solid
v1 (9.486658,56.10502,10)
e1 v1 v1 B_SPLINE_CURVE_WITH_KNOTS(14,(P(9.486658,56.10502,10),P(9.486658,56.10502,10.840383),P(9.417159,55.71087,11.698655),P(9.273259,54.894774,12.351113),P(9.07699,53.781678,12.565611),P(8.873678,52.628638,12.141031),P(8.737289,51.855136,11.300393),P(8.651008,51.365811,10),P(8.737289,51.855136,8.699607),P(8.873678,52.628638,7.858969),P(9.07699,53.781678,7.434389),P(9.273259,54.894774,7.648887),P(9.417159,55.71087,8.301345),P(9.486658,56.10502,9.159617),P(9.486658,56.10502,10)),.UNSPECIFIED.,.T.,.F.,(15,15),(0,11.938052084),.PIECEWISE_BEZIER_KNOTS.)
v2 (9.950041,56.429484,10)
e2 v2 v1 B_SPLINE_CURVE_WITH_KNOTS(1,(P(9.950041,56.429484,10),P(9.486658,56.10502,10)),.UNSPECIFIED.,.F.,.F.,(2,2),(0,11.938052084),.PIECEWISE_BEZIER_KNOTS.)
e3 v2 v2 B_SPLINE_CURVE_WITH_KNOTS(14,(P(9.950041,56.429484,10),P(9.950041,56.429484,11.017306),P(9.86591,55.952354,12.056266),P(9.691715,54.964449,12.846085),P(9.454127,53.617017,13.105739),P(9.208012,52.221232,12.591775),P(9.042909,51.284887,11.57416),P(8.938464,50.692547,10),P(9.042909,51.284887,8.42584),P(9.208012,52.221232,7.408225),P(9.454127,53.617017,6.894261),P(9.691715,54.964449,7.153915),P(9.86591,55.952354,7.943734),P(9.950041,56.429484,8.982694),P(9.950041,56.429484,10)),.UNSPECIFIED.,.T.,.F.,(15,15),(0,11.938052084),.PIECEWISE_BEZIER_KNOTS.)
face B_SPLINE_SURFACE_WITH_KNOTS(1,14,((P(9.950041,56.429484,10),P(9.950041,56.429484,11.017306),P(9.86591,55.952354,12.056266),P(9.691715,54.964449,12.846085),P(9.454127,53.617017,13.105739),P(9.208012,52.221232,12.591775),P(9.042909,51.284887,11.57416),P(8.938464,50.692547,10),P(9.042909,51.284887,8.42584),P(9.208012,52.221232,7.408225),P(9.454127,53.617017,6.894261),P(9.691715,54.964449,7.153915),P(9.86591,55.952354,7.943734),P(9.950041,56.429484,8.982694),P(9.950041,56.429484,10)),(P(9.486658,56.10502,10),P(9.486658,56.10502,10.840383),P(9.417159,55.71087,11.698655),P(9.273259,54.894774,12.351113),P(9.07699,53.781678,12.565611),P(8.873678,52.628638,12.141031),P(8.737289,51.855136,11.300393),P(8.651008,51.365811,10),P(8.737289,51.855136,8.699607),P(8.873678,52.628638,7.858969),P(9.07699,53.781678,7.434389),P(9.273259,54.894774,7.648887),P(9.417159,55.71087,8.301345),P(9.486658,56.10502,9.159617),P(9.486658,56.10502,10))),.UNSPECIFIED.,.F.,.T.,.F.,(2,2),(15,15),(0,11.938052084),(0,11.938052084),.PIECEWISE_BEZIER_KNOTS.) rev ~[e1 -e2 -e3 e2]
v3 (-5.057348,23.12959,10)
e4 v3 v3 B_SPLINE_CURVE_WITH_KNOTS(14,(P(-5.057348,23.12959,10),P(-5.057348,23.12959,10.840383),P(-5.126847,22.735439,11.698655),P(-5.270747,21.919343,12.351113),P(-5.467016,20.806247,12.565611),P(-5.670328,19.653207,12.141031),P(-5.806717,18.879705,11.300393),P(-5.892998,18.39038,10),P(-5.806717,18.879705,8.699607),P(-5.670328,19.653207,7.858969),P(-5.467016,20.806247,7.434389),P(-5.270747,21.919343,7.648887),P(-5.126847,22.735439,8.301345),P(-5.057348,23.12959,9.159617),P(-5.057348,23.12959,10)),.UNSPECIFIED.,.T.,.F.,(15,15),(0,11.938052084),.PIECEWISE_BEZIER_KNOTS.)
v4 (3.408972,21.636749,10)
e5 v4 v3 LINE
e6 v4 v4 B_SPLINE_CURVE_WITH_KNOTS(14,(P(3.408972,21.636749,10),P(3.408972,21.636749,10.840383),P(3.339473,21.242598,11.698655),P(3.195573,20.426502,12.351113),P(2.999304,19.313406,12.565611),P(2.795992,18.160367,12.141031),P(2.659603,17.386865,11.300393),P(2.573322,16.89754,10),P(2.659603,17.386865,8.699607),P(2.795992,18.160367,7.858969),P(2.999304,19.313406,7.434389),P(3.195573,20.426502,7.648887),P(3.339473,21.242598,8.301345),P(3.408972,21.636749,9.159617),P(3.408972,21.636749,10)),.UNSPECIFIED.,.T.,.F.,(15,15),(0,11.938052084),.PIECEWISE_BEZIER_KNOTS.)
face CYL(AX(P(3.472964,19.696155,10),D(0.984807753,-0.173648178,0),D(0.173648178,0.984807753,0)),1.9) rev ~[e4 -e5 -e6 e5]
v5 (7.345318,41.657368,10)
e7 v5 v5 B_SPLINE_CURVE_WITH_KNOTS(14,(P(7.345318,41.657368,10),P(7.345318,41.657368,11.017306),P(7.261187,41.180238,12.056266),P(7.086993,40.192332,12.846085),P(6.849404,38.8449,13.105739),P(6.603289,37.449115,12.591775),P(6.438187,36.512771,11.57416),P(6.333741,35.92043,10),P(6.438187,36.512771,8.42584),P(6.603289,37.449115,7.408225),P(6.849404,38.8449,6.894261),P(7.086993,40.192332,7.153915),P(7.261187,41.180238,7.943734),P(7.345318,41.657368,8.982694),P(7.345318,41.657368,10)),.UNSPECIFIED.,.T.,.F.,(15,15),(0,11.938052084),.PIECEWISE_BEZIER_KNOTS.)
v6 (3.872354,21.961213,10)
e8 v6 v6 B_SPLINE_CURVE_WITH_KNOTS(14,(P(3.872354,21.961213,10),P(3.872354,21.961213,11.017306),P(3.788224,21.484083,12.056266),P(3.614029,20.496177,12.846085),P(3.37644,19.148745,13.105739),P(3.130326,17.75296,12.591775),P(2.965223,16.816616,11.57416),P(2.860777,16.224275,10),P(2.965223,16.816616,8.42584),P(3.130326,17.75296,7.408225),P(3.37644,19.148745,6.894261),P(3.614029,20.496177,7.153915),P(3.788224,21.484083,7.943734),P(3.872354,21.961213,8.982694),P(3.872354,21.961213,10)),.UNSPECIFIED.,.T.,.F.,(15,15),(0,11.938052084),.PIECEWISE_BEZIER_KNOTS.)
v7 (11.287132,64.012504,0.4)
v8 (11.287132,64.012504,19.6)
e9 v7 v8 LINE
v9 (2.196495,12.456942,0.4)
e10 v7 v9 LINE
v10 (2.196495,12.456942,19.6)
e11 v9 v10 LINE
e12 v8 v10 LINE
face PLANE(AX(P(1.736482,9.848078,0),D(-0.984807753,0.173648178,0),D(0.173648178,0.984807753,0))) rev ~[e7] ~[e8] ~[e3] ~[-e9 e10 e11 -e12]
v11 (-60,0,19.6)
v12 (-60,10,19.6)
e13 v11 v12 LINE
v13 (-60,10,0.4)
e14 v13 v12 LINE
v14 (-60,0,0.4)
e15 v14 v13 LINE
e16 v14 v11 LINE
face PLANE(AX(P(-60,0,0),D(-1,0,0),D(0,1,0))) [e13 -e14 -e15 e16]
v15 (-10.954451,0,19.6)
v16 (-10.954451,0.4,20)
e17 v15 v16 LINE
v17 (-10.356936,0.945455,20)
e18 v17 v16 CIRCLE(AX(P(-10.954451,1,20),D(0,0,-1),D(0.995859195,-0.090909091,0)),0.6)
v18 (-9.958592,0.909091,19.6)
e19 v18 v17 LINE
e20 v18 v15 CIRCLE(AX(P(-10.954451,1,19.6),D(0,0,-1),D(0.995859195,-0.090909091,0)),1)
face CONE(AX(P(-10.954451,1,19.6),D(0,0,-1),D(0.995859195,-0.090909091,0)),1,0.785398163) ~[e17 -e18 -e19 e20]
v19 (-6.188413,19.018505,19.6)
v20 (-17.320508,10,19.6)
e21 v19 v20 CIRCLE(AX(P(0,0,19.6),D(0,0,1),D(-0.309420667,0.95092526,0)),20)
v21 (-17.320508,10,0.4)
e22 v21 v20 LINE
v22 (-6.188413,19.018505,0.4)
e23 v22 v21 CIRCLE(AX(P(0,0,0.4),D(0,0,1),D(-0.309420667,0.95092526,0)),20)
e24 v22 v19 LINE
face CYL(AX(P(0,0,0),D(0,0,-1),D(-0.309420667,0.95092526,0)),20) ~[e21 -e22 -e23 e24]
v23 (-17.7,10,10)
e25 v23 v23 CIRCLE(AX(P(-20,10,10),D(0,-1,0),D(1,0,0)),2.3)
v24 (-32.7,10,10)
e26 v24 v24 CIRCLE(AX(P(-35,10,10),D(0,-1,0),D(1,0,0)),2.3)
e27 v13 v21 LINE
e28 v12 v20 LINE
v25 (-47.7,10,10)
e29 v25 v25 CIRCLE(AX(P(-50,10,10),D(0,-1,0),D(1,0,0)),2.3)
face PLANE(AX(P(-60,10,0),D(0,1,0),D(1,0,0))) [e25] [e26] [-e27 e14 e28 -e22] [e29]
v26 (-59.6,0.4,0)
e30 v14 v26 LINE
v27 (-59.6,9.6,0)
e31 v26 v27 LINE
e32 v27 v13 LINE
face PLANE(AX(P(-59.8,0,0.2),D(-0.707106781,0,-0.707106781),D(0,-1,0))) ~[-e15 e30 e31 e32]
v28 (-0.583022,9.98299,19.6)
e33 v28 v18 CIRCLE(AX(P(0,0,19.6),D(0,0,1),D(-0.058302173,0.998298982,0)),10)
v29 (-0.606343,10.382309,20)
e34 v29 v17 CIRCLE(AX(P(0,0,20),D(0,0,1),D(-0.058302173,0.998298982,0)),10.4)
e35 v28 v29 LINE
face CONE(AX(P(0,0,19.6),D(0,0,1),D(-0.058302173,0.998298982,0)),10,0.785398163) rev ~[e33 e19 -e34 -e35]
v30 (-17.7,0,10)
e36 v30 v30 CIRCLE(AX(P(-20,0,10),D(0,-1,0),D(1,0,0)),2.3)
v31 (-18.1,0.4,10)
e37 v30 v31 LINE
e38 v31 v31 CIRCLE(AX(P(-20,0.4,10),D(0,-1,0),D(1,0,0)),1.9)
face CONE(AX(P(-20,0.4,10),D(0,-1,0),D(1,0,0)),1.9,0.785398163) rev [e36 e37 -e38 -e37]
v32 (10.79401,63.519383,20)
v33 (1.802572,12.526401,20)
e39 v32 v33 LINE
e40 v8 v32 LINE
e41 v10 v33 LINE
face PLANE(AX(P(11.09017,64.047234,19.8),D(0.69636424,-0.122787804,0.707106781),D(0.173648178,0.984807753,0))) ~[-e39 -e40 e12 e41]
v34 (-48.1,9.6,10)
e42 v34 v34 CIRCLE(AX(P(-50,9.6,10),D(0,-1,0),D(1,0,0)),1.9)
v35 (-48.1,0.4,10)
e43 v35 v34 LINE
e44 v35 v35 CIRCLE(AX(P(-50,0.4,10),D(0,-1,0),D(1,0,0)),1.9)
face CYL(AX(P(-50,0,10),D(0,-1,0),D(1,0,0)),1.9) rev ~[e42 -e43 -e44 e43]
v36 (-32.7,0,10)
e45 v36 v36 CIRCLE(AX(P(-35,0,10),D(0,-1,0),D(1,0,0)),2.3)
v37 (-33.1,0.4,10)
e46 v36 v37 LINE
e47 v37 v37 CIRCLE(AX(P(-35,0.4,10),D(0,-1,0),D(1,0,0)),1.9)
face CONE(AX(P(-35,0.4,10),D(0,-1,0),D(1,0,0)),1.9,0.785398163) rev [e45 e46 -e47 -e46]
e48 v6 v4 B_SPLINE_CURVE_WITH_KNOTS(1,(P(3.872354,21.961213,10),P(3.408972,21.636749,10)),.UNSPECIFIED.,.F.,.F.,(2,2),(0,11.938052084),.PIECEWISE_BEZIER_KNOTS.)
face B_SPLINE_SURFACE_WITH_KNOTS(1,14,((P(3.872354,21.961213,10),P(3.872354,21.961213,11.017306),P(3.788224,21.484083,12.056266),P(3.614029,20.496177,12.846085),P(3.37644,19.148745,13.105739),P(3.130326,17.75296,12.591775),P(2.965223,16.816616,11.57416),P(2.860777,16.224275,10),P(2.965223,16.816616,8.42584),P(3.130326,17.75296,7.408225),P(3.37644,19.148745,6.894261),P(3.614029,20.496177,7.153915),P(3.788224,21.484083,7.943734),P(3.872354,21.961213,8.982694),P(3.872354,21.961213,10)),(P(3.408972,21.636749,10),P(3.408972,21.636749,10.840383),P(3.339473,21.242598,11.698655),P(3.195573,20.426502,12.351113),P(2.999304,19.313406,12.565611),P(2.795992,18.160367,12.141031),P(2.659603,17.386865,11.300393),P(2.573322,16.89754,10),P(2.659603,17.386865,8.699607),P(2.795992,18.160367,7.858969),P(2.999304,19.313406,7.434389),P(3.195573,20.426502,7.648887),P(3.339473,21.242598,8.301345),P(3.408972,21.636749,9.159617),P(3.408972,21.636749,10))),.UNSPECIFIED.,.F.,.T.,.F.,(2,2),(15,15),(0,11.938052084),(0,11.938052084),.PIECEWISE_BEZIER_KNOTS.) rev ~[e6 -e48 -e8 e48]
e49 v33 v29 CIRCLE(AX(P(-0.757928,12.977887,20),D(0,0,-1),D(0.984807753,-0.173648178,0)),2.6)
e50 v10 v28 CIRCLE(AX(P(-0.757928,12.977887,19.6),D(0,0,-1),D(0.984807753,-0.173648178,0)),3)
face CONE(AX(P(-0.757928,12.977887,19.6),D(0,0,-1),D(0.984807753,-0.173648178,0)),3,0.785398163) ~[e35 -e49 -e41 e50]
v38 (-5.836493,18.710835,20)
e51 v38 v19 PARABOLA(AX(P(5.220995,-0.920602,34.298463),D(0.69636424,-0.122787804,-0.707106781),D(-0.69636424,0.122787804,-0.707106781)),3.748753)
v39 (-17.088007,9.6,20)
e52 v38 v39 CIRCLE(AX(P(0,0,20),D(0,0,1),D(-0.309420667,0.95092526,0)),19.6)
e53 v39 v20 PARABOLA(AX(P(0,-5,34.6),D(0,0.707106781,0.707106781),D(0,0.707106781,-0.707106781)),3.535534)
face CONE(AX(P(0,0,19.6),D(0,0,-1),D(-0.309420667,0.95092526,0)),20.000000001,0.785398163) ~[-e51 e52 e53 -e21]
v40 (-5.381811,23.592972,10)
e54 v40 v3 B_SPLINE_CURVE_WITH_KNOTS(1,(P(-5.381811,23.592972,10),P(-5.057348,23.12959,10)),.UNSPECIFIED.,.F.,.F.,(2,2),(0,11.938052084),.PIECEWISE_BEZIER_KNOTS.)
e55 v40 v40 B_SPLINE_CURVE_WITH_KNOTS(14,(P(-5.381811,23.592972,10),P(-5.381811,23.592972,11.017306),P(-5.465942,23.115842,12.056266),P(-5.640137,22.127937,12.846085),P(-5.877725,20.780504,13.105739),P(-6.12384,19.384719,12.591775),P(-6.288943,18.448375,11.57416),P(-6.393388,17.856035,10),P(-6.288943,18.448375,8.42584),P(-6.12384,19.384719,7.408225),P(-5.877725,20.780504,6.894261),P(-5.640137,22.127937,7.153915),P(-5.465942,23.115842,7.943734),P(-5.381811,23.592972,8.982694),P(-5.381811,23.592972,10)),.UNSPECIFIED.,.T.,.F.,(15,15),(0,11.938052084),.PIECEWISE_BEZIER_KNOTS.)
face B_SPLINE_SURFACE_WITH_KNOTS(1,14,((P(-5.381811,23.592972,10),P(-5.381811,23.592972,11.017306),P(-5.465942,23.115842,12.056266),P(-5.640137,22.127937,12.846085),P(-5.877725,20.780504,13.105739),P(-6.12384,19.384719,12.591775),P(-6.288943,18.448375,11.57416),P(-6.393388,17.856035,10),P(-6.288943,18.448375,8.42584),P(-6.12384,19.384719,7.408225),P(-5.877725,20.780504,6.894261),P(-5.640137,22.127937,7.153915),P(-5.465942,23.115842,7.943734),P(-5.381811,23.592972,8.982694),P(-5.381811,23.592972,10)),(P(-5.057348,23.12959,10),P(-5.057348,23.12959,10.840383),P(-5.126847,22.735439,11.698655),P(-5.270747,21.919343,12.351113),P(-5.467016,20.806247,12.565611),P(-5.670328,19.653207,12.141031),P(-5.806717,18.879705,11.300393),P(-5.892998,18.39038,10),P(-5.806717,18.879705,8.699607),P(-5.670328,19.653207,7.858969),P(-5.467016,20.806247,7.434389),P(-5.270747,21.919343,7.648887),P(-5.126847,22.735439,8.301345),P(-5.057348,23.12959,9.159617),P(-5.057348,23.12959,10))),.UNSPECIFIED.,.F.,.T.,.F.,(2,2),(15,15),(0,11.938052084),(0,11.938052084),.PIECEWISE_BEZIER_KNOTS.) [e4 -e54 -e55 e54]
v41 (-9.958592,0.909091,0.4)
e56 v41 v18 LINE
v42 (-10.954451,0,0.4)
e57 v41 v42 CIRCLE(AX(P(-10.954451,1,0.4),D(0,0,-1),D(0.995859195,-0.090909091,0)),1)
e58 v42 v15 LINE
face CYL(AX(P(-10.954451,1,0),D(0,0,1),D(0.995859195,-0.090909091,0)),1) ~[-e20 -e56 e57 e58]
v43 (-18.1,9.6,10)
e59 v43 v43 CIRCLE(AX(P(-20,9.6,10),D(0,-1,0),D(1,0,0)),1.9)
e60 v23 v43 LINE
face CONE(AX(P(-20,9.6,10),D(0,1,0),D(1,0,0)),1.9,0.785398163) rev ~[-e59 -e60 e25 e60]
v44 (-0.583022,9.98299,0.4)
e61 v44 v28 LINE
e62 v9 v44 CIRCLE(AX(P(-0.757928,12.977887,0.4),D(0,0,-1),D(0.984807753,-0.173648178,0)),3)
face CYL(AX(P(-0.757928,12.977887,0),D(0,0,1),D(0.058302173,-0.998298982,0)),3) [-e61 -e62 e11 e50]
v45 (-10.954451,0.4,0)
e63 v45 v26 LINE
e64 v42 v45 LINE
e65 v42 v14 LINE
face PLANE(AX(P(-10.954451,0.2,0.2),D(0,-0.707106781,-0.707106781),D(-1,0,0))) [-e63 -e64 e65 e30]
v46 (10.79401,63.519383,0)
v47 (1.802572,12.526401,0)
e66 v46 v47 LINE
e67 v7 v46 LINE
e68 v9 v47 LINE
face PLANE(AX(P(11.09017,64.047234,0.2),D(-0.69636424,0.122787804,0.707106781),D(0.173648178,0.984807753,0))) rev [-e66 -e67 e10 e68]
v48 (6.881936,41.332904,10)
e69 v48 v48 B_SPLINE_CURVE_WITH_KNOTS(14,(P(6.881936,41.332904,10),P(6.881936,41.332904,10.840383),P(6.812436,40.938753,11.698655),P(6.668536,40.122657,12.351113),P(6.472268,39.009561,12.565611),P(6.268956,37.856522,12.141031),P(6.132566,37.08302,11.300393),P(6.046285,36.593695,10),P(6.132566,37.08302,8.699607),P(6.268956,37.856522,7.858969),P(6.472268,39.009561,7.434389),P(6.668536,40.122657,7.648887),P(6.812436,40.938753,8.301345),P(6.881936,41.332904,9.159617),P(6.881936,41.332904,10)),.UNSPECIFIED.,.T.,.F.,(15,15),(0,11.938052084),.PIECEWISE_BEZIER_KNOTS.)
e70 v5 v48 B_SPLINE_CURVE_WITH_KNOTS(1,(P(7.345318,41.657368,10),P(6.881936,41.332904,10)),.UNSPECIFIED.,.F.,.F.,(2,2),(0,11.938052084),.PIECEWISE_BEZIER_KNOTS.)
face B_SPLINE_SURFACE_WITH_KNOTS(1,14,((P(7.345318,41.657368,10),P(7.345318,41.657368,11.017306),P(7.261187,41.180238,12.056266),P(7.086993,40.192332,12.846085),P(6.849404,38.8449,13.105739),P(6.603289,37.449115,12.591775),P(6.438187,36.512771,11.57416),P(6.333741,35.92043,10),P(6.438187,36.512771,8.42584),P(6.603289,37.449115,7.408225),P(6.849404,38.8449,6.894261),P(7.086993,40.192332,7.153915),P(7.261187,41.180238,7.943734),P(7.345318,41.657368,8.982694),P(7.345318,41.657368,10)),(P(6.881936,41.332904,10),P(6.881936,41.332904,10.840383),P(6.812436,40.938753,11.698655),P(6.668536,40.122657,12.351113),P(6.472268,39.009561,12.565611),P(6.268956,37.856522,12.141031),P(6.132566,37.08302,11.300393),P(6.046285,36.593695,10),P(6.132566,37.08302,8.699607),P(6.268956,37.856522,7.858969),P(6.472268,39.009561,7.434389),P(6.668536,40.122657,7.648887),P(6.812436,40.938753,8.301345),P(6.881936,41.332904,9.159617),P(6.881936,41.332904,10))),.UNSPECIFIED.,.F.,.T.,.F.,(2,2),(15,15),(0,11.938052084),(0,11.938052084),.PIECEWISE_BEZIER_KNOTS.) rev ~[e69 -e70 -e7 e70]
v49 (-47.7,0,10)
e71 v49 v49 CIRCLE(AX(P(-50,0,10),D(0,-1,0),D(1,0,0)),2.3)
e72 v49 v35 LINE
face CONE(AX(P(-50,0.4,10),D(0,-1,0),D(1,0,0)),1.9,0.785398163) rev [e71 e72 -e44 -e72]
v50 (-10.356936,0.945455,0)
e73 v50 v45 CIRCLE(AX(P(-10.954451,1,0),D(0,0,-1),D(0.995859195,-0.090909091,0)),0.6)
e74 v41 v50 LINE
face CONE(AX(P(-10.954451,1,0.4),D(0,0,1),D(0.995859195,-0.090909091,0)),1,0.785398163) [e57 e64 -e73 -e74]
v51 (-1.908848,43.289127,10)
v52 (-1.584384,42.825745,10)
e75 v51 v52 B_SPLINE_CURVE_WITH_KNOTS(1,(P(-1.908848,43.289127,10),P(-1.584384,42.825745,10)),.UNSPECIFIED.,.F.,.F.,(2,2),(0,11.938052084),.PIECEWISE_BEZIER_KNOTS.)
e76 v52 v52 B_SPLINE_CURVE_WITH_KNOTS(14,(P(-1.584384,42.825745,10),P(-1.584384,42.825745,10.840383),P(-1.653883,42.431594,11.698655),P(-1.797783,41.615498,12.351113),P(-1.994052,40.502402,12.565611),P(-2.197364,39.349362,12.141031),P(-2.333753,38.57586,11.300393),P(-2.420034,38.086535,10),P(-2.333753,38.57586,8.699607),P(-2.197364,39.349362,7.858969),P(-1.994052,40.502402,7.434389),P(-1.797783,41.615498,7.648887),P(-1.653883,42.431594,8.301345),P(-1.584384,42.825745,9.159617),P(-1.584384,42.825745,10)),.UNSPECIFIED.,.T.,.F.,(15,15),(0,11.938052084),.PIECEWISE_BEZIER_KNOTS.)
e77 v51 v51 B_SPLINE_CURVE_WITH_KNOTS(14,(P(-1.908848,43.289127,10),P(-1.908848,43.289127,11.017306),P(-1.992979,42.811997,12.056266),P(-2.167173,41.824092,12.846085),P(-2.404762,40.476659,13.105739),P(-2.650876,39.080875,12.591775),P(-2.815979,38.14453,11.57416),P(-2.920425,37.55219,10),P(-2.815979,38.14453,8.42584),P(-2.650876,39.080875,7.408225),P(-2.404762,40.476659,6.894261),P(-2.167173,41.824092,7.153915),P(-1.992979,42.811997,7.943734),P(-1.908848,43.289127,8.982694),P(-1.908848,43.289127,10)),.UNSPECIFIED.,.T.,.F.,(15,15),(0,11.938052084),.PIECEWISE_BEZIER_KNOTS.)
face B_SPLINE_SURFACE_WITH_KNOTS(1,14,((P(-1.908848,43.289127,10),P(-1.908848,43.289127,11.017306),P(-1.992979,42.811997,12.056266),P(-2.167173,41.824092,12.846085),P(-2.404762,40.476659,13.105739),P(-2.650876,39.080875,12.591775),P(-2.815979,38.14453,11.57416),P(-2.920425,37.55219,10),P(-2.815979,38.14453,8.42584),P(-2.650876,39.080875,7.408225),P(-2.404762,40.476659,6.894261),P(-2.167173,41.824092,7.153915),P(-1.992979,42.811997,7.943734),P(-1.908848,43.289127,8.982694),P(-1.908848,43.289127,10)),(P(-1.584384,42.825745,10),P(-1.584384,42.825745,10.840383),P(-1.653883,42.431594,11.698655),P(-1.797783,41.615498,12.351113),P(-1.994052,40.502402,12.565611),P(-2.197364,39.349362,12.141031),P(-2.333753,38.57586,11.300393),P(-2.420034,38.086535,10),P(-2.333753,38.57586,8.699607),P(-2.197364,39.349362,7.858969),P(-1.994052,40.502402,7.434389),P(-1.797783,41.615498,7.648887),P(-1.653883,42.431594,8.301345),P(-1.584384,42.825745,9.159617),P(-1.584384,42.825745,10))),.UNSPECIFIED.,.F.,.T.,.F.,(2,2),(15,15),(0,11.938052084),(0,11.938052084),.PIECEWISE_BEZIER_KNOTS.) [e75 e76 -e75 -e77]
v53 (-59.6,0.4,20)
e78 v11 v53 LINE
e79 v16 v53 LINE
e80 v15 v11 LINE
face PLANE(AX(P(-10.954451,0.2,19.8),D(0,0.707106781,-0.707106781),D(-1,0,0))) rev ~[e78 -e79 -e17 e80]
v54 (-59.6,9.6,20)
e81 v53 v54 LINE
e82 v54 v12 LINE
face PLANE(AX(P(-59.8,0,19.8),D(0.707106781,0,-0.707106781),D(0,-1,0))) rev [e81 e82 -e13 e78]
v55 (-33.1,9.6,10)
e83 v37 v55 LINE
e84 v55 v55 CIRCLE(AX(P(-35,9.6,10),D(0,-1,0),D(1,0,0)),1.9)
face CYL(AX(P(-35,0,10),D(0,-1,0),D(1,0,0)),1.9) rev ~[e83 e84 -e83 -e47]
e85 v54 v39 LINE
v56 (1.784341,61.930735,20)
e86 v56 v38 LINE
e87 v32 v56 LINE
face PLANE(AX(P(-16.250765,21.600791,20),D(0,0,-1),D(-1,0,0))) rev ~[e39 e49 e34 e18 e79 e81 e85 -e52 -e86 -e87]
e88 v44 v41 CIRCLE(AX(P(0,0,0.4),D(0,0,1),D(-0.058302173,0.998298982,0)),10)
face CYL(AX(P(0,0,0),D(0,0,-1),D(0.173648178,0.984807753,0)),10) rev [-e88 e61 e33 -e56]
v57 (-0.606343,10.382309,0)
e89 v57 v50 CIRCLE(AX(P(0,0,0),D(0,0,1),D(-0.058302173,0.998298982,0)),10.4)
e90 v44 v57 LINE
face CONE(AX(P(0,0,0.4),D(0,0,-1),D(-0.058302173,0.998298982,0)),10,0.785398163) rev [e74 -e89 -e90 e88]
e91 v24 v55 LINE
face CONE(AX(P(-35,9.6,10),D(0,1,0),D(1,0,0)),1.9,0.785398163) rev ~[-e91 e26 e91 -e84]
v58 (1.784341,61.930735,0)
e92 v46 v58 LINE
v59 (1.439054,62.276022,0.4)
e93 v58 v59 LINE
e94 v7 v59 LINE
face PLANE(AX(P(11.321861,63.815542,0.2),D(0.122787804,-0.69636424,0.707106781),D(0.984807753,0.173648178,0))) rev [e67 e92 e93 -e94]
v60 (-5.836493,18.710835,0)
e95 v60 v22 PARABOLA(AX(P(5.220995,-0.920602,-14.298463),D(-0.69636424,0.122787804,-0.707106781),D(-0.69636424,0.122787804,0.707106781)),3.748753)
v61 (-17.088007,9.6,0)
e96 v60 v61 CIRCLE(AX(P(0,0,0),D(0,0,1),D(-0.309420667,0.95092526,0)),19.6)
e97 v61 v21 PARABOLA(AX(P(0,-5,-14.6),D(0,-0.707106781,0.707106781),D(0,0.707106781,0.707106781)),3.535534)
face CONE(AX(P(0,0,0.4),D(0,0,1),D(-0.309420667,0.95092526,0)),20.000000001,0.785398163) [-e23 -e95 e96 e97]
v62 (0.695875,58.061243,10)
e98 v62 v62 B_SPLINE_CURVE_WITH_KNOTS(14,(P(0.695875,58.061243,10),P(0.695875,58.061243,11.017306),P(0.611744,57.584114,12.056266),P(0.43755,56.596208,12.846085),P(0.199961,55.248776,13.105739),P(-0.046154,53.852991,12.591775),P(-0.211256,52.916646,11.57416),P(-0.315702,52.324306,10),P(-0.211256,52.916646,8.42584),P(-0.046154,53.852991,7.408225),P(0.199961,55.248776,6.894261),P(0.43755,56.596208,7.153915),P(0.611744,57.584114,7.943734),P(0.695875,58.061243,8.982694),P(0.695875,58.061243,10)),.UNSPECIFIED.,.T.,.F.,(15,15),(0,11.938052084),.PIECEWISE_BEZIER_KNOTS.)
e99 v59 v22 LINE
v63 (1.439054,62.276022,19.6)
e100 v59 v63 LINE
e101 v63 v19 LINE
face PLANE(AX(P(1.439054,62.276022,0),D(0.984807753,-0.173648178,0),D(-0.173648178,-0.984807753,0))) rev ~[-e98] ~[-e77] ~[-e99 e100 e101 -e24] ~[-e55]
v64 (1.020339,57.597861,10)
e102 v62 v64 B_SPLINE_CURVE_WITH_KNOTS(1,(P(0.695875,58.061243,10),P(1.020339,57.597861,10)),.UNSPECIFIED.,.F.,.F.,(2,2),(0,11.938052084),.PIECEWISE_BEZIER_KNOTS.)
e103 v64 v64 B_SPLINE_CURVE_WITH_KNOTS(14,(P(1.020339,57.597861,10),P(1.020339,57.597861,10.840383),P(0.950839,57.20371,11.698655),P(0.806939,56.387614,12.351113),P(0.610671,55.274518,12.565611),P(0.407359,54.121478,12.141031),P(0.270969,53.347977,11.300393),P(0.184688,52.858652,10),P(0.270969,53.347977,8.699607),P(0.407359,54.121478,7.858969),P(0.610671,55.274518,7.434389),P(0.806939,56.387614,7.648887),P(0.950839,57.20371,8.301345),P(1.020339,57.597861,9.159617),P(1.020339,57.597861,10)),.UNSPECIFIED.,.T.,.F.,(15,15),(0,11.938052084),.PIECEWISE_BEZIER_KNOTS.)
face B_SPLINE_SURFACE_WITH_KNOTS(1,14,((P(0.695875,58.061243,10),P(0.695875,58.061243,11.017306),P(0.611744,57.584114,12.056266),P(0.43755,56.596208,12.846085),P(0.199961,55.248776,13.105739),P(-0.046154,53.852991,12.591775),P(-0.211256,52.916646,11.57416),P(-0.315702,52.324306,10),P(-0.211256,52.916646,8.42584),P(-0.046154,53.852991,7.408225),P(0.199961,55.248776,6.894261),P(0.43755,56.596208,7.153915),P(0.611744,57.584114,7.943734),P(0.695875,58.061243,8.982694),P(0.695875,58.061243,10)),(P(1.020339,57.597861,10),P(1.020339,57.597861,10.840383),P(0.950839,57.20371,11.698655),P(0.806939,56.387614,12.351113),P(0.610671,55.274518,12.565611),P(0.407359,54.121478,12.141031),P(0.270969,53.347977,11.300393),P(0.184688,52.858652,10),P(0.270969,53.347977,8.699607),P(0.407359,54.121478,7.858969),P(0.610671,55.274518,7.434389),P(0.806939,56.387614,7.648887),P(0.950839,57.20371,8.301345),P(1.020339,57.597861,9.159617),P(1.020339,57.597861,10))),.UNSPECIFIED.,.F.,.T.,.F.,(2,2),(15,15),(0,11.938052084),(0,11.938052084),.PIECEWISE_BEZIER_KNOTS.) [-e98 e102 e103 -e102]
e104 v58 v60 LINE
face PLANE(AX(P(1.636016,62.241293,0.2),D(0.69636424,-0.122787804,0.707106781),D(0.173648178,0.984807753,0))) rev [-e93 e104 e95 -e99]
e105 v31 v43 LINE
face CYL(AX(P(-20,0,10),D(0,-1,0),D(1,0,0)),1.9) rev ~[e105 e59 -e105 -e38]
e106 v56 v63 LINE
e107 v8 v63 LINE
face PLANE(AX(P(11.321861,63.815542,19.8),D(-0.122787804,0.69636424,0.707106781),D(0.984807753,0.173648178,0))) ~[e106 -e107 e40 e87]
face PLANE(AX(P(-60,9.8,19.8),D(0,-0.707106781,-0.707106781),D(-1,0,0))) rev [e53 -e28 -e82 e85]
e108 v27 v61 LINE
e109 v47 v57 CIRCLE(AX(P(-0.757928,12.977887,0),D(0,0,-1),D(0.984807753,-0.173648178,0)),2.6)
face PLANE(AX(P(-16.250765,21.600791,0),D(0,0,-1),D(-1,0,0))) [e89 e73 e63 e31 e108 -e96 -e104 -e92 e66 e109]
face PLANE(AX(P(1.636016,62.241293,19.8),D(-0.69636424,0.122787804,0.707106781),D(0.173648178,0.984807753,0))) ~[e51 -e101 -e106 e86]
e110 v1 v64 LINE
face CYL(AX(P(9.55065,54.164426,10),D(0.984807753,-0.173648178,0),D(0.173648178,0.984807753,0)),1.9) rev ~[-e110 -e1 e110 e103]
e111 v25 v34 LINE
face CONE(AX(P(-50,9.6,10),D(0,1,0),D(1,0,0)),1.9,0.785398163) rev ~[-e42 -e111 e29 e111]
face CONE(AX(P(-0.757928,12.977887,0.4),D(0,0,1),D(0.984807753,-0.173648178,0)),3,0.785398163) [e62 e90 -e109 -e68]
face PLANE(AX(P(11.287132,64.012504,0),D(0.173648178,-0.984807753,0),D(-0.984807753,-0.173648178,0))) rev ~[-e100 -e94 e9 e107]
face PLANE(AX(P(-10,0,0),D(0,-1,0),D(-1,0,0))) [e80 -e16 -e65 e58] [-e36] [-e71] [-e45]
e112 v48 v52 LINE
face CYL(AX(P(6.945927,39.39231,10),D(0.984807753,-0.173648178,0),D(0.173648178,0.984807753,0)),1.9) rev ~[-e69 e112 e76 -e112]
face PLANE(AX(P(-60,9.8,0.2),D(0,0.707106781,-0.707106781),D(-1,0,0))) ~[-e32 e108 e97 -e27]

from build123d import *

# Parameters (mm, degrees)
PAD_DEPTH       = 20
SKETCH001_R     = 1.9
POCKET_DEPTH    = 10
SKETCH002_R     = 1.9
POCKET001_DEPTH = 70.2051198388
FILLET_R        = 3
FILLET001_R     = 1
CHAMFER_SIZE    = 0.4


with BuildPart() as part:
    # Sketch → Pad (new body)
    with BuildSketch(Plane.XY):
        with BuildLine():
            ThreePointArc((1.7364817767, 9.8480775301), (-6.4278760969, 7.6604444312), (-10, 0))
            Line((-10, 0), (-60, 0))
            Line((-60, 0), (-60, 10))
            Line((-60, 10), (-17.3205080757, 10))
            ThreePointArc((-6.1884133406, 19.0185052075), (-12.5897063343, 15.5402475661), (-17.3205080757, 10))
            Line((1.4390540182, 62.2760221691), (-6.1884133406, 19.0185052075))
            Line((11.2871315484, 64.0125039458), (1.4390540182, 62.2760221691))
            Line((1.7364817767, 9.8480775301), (11.2871315484, 64.0125039458))
        make_face()
    extrude(amount=PAD_DEPTH)

    # Sketch001 (on Face2 of Pad) → Pocket (cut)
    with BuildSketch(Plane.XZ):
        with Locations((-50, 10)):
            Circle(SKETCH001_R)
        with Locations((-35, 10)):
            Circle(SKETCH001_R)
        with Locations((-20, 10)):
            Circle(SKETCH001_R)
    extrude(amount=-POCKET_DEPTH, mode=Mode.SUBTRACT)

    # Sketch002 (on Face2 of Pocket) → Pocket001 (cut, through all)
    with BuildSketch(Plane(origin=(0, 0, 0), x_dir=(0.1736481777, 0.984807753, 0), z_dir=(0.984807753, -0.1736481777, 0))):
        with Locations((20, 10)):
            Circle(SKETCH002_R)
        with Locations((40, 10)):
            Circle(SKETCH002_R)
        with Locations((55, 10)):
            Circle(SKETCH002_R)
    extrude(amount=-POCKET001_DEPTH, mode=Mode.SUBTRACT)

    # Fillet
    fillet_edges = [part.edges().sort_by_distance(p)[0] for p in [
        (1.736482, 9.848078, 10),
    ]]
    fillet(fillet_edges, radius=FILLET_R)

    # Fillet001
    fillet001_edges = [part.edges().sort_by_distance(p)[0] for p in [
        (-10, 0, 10),
    ]]
    fillet(fillet001_edges, radius=FILLET001_R)

    # Chamfer
    chamfer_edges = [part.edges().sort_by_distance(p)[0] for p in [
        (-6.954518, 7.185728, 20),
        (-10.280251, 0.261451, 20),
        (1.236636, 10.736969, 20),
        (-35.477226, 0, 20),
        (6.741813, 38.234723, 20),
        (-60, 5, 20),
        (6.363093, 63.144263, 20),
        (-38.660254, 10, 20),
        (-2.37468, 40.647264, 20),
        (-12.589706, 15.540248, 20),
        (-6.954518, 7.185728, 0),
        (-10.280251, 0.261451, 0),
        (1.236636, 10.736969, 0),
        (-35.477226, 0, 0),
        (6.741813, 38.234723, 0),
        (-60, 5, 0),
        (6.363093, 63.144263, 0),
        (-38.660254, 10, 0),
        (-2.37468, 40.647264, 0),
        (-12.589706, 15.540248, 0),
        (-51.9, 0, 10),
        (-36.9, 0, 10),
        (-21.9, 0, 10),
        (3.143032, 17.82502, 10),
        (6.615996, 37.521175, 10),
        (9.220718, 52.293292, 10),
        (-0.033448, 53.925051, 10),
        (-2.63817, 39.152935, 10),
        (-6.111134, 19.456779, 10),
        (-21.9, 10, 10),
        (-36.9, 10, 10),
        (-51.9, 10, 10),
    ]]
    chamfer(chamfer_edges, length=CHAMFER_SIZE)


solid = part.part
